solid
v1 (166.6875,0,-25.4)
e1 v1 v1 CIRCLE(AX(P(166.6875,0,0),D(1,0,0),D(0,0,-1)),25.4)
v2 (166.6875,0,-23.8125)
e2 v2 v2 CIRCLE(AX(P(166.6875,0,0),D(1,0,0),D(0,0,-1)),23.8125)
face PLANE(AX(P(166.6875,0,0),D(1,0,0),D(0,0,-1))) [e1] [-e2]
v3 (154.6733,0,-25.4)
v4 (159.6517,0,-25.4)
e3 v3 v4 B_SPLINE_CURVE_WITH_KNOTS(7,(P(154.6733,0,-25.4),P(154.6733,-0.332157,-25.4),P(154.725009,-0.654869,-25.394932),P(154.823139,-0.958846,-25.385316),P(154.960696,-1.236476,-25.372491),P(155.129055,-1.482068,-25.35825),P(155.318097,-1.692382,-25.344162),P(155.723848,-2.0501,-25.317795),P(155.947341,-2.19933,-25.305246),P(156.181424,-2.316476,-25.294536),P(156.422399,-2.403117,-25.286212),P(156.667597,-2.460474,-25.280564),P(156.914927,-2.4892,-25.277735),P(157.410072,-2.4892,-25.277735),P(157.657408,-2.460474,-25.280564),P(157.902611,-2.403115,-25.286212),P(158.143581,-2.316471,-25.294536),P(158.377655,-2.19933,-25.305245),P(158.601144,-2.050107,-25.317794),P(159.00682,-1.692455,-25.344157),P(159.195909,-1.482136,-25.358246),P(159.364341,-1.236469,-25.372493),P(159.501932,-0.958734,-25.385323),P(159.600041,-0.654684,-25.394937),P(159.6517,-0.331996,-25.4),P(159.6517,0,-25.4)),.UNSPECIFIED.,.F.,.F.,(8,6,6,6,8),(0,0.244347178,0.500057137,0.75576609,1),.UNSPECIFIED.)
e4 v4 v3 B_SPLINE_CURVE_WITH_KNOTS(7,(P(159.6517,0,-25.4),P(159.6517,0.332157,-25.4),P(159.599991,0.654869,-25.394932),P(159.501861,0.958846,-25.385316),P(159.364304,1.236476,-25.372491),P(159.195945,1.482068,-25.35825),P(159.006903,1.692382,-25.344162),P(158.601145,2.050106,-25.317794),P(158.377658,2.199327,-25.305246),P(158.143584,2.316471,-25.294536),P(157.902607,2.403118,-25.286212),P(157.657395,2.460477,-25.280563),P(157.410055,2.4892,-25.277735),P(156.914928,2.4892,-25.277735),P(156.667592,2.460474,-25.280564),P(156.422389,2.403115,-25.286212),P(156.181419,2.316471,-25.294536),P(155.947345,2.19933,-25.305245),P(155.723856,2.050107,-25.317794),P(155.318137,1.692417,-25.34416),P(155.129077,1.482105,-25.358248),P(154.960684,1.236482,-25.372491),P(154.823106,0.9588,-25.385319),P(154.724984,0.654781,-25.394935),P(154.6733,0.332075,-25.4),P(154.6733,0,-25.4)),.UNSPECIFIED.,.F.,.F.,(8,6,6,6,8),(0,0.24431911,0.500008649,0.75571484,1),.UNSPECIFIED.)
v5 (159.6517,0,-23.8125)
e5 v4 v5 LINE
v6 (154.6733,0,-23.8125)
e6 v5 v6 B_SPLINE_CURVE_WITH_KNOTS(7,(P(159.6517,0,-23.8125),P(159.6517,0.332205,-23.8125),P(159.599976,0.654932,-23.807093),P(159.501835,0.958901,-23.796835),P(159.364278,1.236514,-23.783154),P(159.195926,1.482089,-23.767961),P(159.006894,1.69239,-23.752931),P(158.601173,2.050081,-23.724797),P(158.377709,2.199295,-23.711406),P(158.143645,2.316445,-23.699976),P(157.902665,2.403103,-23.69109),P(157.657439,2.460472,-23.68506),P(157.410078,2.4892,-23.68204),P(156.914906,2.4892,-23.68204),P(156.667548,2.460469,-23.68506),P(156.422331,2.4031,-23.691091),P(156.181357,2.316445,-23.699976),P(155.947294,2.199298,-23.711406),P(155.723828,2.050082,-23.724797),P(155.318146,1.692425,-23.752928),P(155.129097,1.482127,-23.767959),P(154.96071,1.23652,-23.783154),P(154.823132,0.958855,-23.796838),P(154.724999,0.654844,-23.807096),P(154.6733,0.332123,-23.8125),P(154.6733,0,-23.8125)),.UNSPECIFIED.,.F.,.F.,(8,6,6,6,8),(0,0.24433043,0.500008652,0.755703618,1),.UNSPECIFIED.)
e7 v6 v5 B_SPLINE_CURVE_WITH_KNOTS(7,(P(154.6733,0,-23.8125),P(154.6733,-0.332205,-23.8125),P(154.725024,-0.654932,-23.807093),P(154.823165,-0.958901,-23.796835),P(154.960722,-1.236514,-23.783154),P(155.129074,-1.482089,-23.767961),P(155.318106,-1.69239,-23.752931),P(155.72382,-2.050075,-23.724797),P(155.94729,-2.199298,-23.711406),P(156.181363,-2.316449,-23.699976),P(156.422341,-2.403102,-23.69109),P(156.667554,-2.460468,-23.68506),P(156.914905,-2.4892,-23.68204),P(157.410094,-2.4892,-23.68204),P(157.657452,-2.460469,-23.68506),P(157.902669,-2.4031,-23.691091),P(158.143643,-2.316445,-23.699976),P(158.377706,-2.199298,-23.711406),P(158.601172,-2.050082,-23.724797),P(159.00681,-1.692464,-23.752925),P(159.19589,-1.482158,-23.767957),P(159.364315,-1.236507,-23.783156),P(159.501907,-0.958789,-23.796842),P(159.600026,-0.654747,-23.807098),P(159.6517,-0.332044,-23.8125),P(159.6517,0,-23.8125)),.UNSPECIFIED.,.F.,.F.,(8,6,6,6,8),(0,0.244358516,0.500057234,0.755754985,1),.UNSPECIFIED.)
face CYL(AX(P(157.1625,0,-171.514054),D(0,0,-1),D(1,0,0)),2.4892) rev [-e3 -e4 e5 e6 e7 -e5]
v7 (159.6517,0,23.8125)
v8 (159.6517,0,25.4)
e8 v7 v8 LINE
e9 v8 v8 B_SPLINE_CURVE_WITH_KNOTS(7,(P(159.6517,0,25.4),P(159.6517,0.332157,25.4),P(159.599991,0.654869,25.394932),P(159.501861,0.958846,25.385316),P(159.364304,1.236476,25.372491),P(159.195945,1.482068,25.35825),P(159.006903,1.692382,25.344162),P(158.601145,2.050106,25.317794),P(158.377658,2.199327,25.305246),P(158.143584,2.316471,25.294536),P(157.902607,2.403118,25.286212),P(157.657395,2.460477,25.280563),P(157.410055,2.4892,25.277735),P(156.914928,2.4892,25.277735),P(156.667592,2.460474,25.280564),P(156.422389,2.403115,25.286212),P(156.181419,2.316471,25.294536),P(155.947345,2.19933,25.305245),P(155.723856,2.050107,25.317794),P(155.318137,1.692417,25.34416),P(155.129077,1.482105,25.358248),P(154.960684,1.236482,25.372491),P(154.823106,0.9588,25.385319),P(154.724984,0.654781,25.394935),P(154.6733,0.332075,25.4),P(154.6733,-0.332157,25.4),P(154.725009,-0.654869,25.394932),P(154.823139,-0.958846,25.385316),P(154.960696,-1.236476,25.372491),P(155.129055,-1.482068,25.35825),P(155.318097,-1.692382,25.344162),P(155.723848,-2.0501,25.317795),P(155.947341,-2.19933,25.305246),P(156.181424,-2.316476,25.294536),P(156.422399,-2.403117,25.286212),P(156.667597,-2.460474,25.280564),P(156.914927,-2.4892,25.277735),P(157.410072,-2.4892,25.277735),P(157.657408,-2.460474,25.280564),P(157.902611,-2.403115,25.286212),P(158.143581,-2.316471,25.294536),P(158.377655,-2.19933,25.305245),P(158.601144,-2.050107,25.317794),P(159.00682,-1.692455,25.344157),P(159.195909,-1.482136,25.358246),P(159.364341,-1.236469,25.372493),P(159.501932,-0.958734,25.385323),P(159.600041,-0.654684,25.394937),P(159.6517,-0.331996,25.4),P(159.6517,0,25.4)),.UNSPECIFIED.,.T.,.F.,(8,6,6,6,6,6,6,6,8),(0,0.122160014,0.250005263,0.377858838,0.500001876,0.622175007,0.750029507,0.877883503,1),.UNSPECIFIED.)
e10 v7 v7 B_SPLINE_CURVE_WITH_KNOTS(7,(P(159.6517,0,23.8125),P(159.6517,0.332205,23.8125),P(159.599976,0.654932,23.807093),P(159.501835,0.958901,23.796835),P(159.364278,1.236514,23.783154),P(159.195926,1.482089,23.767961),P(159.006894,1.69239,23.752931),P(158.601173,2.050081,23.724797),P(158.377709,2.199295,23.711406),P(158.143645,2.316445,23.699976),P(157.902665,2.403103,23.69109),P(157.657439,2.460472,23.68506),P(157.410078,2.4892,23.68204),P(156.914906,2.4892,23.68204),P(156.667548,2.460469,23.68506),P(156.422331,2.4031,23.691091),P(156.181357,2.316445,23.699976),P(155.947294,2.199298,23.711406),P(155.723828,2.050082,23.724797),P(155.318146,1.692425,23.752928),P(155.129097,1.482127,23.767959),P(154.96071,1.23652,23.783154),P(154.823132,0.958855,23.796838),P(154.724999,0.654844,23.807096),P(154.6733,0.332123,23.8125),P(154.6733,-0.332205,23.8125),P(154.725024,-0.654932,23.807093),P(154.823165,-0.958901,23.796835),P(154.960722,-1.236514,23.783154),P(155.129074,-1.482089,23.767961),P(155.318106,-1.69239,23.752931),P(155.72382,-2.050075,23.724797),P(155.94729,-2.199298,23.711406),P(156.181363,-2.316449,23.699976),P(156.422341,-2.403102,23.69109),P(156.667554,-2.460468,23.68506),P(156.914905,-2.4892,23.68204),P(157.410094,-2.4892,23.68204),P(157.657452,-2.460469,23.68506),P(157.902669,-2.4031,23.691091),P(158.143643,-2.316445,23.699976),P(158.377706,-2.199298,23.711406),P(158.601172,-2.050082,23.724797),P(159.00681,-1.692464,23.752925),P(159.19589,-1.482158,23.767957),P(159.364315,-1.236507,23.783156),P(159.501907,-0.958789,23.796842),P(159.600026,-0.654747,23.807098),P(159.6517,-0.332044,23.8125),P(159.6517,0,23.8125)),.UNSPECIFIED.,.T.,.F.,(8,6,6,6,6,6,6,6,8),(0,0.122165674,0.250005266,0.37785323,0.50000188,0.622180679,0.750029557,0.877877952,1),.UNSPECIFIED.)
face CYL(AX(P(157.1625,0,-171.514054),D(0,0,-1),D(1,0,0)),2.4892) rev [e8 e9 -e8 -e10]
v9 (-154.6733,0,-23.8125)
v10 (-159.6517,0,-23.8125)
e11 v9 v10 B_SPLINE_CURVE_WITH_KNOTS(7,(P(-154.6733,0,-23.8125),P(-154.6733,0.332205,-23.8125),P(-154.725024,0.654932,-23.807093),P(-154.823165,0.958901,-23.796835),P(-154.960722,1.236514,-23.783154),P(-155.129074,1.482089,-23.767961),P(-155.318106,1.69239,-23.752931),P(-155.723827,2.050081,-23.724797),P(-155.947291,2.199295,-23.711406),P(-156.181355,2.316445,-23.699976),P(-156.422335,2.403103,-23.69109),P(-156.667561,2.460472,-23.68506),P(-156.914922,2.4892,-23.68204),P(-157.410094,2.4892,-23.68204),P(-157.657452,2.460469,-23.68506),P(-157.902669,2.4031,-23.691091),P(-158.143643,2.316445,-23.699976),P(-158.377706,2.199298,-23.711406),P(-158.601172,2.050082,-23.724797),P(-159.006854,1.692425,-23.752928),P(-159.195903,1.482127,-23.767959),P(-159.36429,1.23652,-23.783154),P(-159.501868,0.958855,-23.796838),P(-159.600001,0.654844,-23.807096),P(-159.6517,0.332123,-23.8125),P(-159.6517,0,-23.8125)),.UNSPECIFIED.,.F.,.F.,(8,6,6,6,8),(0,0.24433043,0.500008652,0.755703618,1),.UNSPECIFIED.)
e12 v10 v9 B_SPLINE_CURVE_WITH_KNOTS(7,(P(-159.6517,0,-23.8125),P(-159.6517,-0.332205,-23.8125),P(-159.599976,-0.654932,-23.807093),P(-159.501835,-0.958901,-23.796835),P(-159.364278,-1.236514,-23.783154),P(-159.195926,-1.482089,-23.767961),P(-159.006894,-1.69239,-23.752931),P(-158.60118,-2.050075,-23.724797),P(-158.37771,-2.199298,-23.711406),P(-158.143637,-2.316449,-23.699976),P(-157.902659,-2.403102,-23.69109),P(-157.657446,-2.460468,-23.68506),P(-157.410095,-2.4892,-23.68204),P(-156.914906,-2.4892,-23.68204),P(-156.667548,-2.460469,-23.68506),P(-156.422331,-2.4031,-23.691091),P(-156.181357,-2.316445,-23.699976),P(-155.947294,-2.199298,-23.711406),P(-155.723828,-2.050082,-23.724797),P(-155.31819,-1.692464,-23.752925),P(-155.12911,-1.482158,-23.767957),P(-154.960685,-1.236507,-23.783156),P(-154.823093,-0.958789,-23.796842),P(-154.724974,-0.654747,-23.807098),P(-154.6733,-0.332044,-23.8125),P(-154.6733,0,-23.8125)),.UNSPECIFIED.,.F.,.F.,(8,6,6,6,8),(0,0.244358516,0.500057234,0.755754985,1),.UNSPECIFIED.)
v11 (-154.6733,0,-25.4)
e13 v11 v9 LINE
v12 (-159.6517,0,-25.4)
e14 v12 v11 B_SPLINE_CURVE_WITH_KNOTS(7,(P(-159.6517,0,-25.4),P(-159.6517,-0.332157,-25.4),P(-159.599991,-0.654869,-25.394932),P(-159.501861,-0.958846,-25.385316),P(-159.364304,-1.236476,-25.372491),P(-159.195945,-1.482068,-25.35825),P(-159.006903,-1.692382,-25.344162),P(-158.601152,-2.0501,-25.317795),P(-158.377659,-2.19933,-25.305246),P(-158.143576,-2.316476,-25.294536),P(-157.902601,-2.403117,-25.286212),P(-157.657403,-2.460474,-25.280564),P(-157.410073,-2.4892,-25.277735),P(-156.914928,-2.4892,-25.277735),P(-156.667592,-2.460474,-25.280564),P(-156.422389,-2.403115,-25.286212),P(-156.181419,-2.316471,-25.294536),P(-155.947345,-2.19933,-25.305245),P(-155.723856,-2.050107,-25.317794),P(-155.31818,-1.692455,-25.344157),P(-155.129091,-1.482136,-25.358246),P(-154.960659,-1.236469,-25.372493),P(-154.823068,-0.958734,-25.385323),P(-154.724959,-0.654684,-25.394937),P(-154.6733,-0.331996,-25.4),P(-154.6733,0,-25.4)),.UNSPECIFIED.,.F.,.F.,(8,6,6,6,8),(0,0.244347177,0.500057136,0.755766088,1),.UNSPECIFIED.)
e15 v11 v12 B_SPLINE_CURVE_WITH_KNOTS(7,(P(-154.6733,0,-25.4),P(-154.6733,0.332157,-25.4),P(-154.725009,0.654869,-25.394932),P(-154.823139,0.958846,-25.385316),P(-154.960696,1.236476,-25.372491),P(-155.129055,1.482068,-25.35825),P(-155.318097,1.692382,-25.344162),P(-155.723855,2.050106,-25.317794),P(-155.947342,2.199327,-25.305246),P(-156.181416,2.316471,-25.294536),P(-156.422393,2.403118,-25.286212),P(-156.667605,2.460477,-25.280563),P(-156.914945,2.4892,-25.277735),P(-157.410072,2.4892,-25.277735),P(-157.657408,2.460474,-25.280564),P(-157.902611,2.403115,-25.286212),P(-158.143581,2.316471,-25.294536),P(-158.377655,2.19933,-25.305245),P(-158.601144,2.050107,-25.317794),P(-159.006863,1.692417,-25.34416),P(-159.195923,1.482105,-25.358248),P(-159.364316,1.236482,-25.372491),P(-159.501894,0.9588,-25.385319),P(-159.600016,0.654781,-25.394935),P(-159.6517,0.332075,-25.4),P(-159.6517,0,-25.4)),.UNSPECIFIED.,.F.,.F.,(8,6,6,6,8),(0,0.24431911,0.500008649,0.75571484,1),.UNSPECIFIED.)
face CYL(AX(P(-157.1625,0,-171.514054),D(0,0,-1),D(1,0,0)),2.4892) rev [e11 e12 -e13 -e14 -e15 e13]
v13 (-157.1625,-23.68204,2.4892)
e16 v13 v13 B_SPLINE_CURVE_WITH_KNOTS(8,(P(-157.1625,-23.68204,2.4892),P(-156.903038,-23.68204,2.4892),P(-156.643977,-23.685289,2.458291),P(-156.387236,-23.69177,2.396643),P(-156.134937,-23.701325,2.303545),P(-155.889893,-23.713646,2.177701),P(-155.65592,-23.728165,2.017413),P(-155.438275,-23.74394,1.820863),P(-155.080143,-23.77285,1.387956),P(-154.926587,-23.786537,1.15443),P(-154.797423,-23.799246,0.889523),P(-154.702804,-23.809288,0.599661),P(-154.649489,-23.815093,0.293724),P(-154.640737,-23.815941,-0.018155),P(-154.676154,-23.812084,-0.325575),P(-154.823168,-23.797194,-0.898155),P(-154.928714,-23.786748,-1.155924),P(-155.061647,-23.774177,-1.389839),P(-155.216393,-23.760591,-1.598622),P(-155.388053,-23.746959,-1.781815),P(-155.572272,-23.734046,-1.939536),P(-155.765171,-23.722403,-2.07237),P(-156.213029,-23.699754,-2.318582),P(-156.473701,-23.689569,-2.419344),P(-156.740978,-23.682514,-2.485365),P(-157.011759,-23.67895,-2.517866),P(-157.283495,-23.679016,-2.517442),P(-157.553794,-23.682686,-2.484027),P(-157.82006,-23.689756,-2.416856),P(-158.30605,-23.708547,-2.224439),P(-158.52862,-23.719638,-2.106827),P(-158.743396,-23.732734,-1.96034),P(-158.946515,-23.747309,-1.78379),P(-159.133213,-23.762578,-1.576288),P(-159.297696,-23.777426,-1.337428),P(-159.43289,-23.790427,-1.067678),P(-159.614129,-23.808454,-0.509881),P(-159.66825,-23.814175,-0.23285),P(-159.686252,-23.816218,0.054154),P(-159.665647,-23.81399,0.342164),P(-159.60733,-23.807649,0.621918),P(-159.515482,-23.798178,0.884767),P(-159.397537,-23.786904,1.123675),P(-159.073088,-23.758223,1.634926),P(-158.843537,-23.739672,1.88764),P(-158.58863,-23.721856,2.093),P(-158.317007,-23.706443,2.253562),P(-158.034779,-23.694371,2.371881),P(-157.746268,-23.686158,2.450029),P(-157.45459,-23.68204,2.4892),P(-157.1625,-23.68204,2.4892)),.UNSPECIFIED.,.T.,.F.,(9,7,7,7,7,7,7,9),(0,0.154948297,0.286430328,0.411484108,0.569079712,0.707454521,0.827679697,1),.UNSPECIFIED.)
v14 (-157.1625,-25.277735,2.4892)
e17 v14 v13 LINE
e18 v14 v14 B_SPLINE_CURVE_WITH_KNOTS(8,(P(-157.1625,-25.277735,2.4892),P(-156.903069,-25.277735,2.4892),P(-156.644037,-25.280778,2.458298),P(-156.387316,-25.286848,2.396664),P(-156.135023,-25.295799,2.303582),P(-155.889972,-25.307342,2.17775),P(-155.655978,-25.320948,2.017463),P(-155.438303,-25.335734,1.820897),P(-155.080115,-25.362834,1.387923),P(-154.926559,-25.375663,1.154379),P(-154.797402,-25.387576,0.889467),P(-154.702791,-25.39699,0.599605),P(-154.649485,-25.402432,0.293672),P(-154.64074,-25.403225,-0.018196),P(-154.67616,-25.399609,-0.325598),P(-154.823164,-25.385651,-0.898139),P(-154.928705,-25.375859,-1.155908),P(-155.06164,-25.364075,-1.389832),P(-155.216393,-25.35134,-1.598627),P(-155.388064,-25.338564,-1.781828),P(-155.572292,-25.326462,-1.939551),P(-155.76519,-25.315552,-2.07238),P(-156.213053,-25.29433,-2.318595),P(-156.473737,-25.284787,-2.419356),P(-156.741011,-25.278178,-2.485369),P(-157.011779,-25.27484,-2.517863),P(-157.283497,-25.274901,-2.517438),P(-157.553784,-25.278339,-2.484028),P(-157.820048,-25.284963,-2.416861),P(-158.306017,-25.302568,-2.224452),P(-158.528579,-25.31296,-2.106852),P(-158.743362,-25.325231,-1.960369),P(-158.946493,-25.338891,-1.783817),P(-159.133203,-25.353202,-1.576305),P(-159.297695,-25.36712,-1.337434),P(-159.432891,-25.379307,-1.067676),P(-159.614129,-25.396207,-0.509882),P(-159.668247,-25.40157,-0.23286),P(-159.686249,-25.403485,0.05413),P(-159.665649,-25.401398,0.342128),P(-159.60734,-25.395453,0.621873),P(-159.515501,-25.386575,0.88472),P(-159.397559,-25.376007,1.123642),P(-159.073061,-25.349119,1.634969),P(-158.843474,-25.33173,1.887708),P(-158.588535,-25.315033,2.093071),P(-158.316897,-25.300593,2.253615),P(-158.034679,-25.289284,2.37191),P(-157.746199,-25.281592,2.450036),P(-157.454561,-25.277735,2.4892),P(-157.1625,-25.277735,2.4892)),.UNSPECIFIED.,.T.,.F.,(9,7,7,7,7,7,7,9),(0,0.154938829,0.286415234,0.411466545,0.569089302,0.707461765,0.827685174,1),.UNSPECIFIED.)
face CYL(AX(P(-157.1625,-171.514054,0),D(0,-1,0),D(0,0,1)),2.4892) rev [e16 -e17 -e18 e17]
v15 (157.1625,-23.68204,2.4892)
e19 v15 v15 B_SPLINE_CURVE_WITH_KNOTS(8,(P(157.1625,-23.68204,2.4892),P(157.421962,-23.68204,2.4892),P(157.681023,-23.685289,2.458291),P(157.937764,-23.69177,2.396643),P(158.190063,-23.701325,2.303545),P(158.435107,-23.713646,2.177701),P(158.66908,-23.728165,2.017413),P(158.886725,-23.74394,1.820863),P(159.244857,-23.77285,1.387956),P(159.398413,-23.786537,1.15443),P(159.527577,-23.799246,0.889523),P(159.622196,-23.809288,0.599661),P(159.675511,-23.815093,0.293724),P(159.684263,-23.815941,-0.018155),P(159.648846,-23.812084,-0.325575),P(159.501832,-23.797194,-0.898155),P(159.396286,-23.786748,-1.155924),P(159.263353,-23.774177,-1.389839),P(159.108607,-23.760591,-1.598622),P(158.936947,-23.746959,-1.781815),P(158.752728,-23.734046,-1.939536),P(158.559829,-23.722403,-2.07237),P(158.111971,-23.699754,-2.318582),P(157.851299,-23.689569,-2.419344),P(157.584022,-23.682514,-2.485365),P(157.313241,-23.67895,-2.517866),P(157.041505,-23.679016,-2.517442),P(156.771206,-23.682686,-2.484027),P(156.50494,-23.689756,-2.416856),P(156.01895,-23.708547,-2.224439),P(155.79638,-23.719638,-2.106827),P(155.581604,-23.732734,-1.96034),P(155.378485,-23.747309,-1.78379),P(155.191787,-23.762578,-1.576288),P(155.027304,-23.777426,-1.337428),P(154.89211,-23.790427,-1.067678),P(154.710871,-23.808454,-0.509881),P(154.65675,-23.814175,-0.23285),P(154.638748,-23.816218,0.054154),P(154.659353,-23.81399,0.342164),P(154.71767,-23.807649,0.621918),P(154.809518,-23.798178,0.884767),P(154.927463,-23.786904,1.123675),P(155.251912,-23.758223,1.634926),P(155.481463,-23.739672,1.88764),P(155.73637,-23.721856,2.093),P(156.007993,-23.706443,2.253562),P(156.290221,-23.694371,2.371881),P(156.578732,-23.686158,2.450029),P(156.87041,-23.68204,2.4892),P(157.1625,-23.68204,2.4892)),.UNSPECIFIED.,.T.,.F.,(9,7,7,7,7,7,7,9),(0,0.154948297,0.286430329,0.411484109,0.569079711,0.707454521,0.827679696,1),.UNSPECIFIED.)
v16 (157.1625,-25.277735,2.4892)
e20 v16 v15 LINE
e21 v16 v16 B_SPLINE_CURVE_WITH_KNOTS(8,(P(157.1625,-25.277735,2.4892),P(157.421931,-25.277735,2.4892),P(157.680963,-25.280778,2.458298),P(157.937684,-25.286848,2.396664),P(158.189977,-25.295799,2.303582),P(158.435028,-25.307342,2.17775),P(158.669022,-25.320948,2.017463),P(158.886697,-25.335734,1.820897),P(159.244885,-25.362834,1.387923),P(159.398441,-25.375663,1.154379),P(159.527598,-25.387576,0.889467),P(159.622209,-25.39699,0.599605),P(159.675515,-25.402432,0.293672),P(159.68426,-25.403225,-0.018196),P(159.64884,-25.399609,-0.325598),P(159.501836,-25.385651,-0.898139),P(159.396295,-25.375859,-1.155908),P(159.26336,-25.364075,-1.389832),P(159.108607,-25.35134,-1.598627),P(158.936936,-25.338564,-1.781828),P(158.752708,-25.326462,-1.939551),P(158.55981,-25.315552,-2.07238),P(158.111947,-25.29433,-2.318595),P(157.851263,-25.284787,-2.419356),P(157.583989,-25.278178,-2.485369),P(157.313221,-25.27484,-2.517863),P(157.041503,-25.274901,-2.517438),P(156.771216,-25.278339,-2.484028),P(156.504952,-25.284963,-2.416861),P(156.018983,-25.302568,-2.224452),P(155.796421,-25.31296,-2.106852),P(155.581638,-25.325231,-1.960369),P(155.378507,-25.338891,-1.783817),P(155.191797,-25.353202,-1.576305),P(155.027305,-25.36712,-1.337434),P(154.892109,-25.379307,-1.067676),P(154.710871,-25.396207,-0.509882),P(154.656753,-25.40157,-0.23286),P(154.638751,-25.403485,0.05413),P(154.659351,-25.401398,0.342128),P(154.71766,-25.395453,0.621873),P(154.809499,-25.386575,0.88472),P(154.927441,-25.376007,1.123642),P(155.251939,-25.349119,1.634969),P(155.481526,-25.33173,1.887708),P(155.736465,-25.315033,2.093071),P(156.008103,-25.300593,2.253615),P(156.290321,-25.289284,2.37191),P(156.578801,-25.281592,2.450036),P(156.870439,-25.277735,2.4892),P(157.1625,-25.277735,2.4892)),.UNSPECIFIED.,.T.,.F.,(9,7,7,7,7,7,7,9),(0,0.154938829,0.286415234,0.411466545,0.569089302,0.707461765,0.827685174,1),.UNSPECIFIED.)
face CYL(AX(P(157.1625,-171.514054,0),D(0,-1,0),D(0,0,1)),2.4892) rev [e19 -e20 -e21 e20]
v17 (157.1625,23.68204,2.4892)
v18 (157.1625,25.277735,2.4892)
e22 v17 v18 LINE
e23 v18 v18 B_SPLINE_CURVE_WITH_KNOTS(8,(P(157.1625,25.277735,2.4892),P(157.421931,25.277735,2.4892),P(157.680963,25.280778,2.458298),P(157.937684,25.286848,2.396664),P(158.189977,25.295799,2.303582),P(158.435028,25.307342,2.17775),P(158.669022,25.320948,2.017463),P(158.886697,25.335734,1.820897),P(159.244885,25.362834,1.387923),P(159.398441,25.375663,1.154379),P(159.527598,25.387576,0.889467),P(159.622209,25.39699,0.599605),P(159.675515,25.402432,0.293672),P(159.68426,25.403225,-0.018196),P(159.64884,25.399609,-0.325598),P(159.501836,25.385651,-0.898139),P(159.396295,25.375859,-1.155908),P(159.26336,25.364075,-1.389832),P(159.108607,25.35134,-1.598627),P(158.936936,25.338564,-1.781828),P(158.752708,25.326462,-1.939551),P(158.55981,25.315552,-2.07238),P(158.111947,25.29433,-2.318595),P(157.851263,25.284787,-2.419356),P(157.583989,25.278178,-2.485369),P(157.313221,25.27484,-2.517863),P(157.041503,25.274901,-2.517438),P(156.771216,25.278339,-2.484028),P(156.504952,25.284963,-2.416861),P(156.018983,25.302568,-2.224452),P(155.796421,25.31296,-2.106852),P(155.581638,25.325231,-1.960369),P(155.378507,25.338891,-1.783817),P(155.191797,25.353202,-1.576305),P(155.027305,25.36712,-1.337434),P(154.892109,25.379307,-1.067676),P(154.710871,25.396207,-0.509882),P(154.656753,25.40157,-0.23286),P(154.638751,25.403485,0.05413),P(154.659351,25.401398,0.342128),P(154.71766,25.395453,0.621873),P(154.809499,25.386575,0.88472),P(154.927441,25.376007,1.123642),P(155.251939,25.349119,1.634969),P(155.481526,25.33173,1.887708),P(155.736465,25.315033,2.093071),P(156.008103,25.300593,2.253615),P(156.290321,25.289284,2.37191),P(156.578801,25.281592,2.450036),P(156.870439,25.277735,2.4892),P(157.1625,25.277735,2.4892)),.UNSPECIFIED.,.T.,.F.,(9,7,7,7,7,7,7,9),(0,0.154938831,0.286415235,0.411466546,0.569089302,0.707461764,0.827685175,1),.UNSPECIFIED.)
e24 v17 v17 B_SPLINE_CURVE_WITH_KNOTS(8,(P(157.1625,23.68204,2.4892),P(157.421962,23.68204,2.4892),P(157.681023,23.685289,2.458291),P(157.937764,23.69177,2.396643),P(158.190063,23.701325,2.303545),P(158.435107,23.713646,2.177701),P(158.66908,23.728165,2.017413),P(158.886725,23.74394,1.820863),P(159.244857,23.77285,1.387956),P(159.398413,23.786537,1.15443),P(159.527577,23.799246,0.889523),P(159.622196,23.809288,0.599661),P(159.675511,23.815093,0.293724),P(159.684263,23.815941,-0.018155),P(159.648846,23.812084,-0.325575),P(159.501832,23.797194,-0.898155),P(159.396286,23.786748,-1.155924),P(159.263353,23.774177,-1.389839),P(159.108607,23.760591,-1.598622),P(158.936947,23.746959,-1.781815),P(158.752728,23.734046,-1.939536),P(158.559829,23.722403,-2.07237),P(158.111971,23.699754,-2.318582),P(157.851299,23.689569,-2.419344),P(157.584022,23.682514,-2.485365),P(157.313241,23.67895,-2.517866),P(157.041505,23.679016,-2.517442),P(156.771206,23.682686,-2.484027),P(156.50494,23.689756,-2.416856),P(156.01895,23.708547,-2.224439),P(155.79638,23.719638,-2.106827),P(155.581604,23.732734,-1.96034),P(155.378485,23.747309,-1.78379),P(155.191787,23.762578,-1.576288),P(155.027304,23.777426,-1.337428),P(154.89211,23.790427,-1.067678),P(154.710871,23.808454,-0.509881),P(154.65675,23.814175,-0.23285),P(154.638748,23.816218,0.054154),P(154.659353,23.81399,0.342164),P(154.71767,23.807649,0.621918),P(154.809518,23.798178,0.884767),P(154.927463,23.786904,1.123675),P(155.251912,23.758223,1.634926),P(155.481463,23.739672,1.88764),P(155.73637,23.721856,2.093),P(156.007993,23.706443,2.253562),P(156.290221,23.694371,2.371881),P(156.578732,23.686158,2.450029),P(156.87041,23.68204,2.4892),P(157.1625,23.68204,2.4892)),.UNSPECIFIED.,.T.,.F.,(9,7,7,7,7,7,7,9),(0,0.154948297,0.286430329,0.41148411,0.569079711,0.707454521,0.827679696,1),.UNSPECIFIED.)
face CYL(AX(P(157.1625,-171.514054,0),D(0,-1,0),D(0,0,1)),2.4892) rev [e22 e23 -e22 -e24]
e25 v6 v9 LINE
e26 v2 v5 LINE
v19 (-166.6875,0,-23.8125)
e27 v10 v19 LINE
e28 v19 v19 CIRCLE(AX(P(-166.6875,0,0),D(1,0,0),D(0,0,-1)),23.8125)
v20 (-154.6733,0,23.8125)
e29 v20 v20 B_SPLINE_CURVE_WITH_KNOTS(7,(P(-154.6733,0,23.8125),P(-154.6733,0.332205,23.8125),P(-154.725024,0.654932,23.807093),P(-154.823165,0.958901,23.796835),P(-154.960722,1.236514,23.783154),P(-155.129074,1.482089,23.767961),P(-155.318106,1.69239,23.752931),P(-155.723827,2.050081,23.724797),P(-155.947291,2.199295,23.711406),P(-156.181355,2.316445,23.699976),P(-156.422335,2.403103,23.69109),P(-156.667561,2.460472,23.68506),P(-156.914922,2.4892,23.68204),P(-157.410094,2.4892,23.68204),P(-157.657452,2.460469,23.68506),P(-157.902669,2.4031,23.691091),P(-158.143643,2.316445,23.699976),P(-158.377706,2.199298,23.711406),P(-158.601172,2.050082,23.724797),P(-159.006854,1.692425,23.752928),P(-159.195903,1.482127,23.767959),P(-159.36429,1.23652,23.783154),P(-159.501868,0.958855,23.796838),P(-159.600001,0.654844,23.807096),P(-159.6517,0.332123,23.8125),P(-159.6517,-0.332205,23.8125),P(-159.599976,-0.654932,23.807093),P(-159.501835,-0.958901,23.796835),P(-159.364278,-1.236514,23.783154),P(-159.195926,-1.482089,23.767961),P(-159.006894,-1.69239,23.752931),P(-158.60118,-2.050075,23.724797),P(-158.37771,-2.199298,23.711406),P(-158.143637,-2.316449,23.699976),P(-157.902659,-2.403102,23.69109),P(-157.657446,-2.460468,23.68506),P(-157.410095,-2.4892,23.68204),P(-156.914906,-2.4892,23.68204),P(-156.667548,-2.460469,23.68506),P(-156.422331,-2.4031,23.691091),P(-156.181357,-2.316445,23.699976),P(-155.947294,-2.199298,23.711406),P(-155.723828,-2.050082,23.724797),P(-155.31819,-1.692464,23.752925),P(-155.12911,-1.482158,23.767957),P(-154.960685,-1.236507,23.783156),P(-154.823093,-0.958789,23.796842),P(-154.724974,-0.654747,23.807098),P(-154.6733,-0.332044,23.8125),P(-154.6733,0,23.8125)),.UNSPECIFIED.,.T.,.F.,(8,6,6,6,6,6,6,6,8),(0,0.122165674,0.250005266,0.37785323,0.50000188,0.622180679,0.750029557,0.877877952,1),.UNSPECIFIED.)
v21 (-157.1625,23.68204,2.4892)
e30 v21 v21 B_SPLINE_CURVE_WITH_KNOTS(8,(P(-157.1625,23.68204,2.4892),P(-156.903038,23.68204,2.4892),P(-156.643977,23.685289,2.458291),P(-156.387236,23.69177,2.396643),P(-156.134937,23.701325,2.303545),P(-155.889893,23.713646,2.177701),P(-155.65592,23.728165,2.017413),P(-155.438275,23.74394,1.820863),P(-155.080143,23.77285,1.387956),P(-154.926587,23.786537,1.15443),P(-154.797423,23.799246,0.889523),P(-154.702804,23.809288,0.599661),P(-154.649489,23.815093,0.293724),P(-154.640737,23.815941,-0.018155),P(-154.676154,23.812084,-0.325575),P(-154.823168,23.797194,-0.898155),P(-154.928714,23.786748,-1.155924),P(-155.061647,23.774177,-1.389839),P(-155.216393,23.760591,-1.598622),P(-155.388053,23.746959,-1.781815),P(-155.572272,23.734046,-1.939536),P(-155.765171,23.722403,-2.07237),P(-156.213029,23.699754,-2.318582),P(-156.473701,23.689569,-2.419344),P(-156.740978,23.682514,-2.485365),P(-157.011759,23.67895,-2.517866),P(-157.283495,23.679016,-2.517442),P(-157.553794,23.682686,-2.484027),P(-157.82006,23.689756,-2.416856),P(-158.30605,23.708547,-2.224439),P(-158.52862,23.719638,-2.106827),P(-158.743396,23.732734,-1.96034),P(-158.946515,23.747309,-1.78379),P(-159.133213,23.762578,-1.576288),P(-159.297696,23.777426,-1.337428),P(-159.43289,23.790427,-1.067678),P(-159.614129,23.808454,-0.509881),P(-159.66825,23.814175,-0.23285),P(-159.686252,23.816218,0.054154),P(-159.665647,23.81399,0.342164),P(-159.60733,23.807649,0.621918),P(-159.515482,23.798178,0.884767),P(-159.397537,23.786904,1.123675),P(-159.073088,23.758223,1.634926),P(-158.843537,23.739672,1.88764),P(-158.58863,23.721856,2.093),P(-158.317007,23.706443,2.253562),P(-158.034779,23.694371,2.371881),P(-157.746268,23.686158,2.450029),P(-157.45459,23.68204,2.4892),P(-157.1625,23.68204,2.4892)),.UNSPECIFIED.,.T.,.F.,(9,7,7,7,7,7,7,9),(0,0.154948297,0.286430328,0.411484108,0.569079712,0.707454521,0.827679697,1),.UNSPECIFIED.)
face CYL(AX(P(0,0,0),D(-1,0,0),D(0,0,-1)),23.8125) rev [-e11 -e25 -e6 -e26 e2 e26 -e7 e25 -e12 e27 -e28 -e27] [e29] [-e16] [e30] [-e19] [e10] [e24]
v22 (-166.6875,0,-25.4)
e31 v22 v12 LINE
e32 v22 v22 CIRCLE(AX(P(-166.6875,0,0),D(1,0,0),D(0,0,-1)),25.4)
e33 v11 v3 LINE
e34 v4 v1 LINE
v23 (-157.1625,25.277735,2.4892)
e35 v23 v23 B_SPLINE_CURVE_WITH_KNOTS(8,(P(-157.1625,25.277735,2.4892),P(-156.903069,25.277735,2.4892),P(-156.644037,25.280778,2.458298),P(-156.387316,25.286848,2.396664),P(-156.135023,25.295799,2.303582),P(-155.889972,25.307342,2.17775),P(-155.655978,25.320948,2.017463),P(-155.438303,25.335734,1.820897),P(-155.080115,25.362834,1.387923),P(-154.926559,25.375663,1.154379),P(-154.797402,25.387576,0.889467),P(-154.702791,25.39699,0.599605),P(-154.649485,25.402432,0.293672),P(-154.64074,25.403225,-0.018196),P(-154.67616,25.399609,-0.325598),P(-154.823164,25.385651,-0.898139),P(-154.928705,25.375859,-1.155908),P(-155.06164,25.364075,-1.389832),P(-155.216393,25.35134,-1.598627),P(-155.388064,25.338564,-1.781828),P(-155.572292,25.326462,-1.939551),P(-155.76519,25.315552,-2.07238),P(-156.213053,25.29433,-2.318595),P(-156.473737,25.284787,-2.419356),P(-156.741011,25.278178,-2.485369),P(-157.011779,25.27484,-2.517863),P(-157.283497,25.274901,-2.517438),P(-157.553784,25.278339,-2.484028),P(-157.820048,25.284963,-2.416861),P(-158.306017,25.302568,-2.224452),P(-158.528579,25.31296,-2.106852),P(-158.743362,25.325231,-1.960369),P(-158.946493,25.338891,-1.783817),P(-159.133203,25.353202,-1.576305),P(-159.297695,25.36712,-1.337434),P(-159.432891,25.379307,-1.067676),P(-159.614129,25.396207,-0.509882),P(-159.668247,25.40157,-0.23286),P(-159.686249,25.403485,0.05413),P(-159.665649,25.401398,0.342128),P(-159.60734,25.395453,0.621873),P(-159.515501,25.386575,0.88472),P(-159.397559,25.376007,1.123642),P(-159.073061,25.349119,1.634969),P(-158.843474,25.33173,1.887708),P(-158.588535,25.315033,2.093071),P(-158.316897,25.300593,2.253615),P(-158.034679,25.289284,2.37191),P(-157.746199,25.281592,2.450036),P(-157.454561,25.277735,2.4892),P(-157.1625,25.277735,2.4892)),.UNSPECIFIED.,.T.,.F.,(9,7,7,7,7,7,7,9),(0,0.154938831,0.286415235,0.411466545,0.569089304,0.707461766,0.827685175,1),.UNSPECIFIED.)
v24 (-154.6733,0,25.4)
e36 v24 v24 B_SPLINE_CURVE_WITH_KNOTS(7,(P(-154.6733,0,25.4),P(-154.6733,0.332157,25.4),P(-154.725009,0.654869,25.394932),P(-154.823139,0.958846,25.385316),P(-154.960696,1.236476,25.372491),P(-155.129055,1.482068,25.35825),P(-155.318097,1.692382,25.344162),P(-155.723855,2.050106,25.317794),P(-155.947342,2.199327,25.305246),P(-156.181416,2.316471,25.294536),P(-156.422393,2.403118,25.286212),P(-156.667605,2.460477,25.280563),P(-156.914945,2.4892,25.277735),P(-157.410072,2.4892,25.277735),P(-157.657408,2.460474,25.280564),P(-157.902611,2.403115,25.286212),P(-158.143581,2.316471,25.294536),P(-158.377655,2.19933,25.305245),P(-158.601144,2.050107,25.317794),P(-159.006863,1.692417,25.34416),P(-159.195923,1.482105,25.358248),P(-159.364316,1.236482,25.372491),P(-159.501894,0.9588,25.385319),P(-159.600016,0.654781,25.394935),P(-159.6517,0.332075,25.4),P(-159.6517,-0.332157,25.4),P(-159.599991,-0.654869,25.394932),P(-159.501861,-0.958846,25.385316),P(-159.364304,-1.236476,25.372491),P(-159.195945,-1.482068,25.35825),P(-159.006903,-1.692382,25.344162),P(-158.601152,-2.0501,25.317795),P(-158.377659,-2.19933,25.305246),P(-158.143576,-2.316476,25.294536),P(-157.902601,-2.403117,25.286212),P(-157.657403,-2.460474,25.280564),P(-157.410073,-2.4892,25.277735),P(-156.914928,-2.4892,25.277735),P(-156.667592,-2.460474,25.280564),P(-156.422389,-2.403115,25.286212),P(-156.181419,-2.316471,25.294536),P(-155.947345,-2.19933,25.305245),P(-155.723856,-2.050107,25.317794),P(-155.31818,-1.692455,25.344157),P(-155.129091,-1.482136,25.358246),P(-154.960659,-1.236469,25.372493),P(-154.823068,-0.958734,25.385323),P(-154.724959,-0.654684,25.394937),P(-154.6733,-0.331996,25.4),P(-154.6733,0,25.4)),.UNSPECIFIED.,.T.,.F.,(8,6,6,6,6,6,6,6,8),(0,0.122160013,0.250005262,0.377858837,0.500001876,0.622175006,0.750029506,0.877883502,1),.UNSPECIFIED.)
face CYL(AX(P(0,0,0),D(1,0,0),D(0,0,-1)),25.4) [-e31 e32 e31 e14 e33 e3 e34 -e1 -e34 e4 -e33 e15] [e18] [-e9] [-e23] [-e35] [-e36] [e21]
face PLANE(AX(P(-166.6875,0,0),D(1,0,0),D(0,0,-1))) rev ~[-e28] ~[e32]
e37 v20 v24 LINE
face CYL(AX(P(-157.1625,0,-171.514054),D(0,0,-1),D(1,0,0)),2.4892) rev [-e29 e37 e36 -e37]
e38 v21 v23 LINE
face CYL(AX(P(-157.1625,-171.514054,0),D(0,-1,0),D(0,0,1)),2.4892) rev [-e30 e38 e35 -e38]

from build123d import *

# Parameters (mm, degrees)
SKETCH1_R               = 25.4
SKETCH1_R_2             = 23.8125
EXTRUDE_THIN1_DEPTH     = 166.6875
CUT_EXTRUDE1_DEPTH      = 171.514054131
CUT_EXTRUDE1_DEPTH_BACK = 171.514054131
SKETCH3_R               = 2.4892
CUT_EXTRUDE2_DEPTH      = 171.514054259
CUT_EXTRUDE2_DEPTH_BACK = 171.514054259
SKETCH4_R               = 2.4892


with BuildPart() as part:
    # Sketch1 → Extrude-Thin1 (new, symmetric)
    with BuildSketch(Plane(origin=(0, 0, 0), x_dir=(0, 0, -1), z_dir=(1, 0, 0))):
        Circle(SKETCH1_R)
        Circle(SKETCH1_R_2, mode=Mode.SUBTRACT)
    extrude(amount=EXTRUDE_THIN1_DEPTH, both=True)

    # Sketch3 → Cut-Extrude1 (cut, two sides: drawn at the far end of the back side and taken through both)
    with BuildSketch(Plane.XY.offset(-CUT_EXTRUDE1_DEPTH_BACK)):
        with Locations((-157.1625, 0)):
            Circle(SKETCH3_R)
        with Locations((157.1625, 0)):
            Circle(SKETCH3_R)
    extrude(amount=CUT_EXTRUDE1_DEPTH + CUT_EXTRUDE1_DEPTH_BACK, mode=Mode.SUBTRACT)

    # Sketch4 → Cut-Extrude2 (cut, two sides: drawn at the far end of the back side and taken through both)
    with BuildSketch(Plane(origin=(0, 0, 0), x_dir=(1, 0, 0), z_dir=(0, 1, 0)).offset(-CUT_EXTRUDE2_DEPTH_BACK)):
        with Locations(Location((-157.1625, 0, 0), (0, 0, 270))):
            Circle(SKETCH4_R)
        with Locations(Location((157.1625, 0, 0), (0, 0, 270))):
            Circle(SKETCH4_R)
    extrude(amount=CUT_EXTRUDE2_DEPTH + CUT_EXTRUDE2_DEPTH_BACK, mode=Mode.SUBTRACT)


solid = part.part
